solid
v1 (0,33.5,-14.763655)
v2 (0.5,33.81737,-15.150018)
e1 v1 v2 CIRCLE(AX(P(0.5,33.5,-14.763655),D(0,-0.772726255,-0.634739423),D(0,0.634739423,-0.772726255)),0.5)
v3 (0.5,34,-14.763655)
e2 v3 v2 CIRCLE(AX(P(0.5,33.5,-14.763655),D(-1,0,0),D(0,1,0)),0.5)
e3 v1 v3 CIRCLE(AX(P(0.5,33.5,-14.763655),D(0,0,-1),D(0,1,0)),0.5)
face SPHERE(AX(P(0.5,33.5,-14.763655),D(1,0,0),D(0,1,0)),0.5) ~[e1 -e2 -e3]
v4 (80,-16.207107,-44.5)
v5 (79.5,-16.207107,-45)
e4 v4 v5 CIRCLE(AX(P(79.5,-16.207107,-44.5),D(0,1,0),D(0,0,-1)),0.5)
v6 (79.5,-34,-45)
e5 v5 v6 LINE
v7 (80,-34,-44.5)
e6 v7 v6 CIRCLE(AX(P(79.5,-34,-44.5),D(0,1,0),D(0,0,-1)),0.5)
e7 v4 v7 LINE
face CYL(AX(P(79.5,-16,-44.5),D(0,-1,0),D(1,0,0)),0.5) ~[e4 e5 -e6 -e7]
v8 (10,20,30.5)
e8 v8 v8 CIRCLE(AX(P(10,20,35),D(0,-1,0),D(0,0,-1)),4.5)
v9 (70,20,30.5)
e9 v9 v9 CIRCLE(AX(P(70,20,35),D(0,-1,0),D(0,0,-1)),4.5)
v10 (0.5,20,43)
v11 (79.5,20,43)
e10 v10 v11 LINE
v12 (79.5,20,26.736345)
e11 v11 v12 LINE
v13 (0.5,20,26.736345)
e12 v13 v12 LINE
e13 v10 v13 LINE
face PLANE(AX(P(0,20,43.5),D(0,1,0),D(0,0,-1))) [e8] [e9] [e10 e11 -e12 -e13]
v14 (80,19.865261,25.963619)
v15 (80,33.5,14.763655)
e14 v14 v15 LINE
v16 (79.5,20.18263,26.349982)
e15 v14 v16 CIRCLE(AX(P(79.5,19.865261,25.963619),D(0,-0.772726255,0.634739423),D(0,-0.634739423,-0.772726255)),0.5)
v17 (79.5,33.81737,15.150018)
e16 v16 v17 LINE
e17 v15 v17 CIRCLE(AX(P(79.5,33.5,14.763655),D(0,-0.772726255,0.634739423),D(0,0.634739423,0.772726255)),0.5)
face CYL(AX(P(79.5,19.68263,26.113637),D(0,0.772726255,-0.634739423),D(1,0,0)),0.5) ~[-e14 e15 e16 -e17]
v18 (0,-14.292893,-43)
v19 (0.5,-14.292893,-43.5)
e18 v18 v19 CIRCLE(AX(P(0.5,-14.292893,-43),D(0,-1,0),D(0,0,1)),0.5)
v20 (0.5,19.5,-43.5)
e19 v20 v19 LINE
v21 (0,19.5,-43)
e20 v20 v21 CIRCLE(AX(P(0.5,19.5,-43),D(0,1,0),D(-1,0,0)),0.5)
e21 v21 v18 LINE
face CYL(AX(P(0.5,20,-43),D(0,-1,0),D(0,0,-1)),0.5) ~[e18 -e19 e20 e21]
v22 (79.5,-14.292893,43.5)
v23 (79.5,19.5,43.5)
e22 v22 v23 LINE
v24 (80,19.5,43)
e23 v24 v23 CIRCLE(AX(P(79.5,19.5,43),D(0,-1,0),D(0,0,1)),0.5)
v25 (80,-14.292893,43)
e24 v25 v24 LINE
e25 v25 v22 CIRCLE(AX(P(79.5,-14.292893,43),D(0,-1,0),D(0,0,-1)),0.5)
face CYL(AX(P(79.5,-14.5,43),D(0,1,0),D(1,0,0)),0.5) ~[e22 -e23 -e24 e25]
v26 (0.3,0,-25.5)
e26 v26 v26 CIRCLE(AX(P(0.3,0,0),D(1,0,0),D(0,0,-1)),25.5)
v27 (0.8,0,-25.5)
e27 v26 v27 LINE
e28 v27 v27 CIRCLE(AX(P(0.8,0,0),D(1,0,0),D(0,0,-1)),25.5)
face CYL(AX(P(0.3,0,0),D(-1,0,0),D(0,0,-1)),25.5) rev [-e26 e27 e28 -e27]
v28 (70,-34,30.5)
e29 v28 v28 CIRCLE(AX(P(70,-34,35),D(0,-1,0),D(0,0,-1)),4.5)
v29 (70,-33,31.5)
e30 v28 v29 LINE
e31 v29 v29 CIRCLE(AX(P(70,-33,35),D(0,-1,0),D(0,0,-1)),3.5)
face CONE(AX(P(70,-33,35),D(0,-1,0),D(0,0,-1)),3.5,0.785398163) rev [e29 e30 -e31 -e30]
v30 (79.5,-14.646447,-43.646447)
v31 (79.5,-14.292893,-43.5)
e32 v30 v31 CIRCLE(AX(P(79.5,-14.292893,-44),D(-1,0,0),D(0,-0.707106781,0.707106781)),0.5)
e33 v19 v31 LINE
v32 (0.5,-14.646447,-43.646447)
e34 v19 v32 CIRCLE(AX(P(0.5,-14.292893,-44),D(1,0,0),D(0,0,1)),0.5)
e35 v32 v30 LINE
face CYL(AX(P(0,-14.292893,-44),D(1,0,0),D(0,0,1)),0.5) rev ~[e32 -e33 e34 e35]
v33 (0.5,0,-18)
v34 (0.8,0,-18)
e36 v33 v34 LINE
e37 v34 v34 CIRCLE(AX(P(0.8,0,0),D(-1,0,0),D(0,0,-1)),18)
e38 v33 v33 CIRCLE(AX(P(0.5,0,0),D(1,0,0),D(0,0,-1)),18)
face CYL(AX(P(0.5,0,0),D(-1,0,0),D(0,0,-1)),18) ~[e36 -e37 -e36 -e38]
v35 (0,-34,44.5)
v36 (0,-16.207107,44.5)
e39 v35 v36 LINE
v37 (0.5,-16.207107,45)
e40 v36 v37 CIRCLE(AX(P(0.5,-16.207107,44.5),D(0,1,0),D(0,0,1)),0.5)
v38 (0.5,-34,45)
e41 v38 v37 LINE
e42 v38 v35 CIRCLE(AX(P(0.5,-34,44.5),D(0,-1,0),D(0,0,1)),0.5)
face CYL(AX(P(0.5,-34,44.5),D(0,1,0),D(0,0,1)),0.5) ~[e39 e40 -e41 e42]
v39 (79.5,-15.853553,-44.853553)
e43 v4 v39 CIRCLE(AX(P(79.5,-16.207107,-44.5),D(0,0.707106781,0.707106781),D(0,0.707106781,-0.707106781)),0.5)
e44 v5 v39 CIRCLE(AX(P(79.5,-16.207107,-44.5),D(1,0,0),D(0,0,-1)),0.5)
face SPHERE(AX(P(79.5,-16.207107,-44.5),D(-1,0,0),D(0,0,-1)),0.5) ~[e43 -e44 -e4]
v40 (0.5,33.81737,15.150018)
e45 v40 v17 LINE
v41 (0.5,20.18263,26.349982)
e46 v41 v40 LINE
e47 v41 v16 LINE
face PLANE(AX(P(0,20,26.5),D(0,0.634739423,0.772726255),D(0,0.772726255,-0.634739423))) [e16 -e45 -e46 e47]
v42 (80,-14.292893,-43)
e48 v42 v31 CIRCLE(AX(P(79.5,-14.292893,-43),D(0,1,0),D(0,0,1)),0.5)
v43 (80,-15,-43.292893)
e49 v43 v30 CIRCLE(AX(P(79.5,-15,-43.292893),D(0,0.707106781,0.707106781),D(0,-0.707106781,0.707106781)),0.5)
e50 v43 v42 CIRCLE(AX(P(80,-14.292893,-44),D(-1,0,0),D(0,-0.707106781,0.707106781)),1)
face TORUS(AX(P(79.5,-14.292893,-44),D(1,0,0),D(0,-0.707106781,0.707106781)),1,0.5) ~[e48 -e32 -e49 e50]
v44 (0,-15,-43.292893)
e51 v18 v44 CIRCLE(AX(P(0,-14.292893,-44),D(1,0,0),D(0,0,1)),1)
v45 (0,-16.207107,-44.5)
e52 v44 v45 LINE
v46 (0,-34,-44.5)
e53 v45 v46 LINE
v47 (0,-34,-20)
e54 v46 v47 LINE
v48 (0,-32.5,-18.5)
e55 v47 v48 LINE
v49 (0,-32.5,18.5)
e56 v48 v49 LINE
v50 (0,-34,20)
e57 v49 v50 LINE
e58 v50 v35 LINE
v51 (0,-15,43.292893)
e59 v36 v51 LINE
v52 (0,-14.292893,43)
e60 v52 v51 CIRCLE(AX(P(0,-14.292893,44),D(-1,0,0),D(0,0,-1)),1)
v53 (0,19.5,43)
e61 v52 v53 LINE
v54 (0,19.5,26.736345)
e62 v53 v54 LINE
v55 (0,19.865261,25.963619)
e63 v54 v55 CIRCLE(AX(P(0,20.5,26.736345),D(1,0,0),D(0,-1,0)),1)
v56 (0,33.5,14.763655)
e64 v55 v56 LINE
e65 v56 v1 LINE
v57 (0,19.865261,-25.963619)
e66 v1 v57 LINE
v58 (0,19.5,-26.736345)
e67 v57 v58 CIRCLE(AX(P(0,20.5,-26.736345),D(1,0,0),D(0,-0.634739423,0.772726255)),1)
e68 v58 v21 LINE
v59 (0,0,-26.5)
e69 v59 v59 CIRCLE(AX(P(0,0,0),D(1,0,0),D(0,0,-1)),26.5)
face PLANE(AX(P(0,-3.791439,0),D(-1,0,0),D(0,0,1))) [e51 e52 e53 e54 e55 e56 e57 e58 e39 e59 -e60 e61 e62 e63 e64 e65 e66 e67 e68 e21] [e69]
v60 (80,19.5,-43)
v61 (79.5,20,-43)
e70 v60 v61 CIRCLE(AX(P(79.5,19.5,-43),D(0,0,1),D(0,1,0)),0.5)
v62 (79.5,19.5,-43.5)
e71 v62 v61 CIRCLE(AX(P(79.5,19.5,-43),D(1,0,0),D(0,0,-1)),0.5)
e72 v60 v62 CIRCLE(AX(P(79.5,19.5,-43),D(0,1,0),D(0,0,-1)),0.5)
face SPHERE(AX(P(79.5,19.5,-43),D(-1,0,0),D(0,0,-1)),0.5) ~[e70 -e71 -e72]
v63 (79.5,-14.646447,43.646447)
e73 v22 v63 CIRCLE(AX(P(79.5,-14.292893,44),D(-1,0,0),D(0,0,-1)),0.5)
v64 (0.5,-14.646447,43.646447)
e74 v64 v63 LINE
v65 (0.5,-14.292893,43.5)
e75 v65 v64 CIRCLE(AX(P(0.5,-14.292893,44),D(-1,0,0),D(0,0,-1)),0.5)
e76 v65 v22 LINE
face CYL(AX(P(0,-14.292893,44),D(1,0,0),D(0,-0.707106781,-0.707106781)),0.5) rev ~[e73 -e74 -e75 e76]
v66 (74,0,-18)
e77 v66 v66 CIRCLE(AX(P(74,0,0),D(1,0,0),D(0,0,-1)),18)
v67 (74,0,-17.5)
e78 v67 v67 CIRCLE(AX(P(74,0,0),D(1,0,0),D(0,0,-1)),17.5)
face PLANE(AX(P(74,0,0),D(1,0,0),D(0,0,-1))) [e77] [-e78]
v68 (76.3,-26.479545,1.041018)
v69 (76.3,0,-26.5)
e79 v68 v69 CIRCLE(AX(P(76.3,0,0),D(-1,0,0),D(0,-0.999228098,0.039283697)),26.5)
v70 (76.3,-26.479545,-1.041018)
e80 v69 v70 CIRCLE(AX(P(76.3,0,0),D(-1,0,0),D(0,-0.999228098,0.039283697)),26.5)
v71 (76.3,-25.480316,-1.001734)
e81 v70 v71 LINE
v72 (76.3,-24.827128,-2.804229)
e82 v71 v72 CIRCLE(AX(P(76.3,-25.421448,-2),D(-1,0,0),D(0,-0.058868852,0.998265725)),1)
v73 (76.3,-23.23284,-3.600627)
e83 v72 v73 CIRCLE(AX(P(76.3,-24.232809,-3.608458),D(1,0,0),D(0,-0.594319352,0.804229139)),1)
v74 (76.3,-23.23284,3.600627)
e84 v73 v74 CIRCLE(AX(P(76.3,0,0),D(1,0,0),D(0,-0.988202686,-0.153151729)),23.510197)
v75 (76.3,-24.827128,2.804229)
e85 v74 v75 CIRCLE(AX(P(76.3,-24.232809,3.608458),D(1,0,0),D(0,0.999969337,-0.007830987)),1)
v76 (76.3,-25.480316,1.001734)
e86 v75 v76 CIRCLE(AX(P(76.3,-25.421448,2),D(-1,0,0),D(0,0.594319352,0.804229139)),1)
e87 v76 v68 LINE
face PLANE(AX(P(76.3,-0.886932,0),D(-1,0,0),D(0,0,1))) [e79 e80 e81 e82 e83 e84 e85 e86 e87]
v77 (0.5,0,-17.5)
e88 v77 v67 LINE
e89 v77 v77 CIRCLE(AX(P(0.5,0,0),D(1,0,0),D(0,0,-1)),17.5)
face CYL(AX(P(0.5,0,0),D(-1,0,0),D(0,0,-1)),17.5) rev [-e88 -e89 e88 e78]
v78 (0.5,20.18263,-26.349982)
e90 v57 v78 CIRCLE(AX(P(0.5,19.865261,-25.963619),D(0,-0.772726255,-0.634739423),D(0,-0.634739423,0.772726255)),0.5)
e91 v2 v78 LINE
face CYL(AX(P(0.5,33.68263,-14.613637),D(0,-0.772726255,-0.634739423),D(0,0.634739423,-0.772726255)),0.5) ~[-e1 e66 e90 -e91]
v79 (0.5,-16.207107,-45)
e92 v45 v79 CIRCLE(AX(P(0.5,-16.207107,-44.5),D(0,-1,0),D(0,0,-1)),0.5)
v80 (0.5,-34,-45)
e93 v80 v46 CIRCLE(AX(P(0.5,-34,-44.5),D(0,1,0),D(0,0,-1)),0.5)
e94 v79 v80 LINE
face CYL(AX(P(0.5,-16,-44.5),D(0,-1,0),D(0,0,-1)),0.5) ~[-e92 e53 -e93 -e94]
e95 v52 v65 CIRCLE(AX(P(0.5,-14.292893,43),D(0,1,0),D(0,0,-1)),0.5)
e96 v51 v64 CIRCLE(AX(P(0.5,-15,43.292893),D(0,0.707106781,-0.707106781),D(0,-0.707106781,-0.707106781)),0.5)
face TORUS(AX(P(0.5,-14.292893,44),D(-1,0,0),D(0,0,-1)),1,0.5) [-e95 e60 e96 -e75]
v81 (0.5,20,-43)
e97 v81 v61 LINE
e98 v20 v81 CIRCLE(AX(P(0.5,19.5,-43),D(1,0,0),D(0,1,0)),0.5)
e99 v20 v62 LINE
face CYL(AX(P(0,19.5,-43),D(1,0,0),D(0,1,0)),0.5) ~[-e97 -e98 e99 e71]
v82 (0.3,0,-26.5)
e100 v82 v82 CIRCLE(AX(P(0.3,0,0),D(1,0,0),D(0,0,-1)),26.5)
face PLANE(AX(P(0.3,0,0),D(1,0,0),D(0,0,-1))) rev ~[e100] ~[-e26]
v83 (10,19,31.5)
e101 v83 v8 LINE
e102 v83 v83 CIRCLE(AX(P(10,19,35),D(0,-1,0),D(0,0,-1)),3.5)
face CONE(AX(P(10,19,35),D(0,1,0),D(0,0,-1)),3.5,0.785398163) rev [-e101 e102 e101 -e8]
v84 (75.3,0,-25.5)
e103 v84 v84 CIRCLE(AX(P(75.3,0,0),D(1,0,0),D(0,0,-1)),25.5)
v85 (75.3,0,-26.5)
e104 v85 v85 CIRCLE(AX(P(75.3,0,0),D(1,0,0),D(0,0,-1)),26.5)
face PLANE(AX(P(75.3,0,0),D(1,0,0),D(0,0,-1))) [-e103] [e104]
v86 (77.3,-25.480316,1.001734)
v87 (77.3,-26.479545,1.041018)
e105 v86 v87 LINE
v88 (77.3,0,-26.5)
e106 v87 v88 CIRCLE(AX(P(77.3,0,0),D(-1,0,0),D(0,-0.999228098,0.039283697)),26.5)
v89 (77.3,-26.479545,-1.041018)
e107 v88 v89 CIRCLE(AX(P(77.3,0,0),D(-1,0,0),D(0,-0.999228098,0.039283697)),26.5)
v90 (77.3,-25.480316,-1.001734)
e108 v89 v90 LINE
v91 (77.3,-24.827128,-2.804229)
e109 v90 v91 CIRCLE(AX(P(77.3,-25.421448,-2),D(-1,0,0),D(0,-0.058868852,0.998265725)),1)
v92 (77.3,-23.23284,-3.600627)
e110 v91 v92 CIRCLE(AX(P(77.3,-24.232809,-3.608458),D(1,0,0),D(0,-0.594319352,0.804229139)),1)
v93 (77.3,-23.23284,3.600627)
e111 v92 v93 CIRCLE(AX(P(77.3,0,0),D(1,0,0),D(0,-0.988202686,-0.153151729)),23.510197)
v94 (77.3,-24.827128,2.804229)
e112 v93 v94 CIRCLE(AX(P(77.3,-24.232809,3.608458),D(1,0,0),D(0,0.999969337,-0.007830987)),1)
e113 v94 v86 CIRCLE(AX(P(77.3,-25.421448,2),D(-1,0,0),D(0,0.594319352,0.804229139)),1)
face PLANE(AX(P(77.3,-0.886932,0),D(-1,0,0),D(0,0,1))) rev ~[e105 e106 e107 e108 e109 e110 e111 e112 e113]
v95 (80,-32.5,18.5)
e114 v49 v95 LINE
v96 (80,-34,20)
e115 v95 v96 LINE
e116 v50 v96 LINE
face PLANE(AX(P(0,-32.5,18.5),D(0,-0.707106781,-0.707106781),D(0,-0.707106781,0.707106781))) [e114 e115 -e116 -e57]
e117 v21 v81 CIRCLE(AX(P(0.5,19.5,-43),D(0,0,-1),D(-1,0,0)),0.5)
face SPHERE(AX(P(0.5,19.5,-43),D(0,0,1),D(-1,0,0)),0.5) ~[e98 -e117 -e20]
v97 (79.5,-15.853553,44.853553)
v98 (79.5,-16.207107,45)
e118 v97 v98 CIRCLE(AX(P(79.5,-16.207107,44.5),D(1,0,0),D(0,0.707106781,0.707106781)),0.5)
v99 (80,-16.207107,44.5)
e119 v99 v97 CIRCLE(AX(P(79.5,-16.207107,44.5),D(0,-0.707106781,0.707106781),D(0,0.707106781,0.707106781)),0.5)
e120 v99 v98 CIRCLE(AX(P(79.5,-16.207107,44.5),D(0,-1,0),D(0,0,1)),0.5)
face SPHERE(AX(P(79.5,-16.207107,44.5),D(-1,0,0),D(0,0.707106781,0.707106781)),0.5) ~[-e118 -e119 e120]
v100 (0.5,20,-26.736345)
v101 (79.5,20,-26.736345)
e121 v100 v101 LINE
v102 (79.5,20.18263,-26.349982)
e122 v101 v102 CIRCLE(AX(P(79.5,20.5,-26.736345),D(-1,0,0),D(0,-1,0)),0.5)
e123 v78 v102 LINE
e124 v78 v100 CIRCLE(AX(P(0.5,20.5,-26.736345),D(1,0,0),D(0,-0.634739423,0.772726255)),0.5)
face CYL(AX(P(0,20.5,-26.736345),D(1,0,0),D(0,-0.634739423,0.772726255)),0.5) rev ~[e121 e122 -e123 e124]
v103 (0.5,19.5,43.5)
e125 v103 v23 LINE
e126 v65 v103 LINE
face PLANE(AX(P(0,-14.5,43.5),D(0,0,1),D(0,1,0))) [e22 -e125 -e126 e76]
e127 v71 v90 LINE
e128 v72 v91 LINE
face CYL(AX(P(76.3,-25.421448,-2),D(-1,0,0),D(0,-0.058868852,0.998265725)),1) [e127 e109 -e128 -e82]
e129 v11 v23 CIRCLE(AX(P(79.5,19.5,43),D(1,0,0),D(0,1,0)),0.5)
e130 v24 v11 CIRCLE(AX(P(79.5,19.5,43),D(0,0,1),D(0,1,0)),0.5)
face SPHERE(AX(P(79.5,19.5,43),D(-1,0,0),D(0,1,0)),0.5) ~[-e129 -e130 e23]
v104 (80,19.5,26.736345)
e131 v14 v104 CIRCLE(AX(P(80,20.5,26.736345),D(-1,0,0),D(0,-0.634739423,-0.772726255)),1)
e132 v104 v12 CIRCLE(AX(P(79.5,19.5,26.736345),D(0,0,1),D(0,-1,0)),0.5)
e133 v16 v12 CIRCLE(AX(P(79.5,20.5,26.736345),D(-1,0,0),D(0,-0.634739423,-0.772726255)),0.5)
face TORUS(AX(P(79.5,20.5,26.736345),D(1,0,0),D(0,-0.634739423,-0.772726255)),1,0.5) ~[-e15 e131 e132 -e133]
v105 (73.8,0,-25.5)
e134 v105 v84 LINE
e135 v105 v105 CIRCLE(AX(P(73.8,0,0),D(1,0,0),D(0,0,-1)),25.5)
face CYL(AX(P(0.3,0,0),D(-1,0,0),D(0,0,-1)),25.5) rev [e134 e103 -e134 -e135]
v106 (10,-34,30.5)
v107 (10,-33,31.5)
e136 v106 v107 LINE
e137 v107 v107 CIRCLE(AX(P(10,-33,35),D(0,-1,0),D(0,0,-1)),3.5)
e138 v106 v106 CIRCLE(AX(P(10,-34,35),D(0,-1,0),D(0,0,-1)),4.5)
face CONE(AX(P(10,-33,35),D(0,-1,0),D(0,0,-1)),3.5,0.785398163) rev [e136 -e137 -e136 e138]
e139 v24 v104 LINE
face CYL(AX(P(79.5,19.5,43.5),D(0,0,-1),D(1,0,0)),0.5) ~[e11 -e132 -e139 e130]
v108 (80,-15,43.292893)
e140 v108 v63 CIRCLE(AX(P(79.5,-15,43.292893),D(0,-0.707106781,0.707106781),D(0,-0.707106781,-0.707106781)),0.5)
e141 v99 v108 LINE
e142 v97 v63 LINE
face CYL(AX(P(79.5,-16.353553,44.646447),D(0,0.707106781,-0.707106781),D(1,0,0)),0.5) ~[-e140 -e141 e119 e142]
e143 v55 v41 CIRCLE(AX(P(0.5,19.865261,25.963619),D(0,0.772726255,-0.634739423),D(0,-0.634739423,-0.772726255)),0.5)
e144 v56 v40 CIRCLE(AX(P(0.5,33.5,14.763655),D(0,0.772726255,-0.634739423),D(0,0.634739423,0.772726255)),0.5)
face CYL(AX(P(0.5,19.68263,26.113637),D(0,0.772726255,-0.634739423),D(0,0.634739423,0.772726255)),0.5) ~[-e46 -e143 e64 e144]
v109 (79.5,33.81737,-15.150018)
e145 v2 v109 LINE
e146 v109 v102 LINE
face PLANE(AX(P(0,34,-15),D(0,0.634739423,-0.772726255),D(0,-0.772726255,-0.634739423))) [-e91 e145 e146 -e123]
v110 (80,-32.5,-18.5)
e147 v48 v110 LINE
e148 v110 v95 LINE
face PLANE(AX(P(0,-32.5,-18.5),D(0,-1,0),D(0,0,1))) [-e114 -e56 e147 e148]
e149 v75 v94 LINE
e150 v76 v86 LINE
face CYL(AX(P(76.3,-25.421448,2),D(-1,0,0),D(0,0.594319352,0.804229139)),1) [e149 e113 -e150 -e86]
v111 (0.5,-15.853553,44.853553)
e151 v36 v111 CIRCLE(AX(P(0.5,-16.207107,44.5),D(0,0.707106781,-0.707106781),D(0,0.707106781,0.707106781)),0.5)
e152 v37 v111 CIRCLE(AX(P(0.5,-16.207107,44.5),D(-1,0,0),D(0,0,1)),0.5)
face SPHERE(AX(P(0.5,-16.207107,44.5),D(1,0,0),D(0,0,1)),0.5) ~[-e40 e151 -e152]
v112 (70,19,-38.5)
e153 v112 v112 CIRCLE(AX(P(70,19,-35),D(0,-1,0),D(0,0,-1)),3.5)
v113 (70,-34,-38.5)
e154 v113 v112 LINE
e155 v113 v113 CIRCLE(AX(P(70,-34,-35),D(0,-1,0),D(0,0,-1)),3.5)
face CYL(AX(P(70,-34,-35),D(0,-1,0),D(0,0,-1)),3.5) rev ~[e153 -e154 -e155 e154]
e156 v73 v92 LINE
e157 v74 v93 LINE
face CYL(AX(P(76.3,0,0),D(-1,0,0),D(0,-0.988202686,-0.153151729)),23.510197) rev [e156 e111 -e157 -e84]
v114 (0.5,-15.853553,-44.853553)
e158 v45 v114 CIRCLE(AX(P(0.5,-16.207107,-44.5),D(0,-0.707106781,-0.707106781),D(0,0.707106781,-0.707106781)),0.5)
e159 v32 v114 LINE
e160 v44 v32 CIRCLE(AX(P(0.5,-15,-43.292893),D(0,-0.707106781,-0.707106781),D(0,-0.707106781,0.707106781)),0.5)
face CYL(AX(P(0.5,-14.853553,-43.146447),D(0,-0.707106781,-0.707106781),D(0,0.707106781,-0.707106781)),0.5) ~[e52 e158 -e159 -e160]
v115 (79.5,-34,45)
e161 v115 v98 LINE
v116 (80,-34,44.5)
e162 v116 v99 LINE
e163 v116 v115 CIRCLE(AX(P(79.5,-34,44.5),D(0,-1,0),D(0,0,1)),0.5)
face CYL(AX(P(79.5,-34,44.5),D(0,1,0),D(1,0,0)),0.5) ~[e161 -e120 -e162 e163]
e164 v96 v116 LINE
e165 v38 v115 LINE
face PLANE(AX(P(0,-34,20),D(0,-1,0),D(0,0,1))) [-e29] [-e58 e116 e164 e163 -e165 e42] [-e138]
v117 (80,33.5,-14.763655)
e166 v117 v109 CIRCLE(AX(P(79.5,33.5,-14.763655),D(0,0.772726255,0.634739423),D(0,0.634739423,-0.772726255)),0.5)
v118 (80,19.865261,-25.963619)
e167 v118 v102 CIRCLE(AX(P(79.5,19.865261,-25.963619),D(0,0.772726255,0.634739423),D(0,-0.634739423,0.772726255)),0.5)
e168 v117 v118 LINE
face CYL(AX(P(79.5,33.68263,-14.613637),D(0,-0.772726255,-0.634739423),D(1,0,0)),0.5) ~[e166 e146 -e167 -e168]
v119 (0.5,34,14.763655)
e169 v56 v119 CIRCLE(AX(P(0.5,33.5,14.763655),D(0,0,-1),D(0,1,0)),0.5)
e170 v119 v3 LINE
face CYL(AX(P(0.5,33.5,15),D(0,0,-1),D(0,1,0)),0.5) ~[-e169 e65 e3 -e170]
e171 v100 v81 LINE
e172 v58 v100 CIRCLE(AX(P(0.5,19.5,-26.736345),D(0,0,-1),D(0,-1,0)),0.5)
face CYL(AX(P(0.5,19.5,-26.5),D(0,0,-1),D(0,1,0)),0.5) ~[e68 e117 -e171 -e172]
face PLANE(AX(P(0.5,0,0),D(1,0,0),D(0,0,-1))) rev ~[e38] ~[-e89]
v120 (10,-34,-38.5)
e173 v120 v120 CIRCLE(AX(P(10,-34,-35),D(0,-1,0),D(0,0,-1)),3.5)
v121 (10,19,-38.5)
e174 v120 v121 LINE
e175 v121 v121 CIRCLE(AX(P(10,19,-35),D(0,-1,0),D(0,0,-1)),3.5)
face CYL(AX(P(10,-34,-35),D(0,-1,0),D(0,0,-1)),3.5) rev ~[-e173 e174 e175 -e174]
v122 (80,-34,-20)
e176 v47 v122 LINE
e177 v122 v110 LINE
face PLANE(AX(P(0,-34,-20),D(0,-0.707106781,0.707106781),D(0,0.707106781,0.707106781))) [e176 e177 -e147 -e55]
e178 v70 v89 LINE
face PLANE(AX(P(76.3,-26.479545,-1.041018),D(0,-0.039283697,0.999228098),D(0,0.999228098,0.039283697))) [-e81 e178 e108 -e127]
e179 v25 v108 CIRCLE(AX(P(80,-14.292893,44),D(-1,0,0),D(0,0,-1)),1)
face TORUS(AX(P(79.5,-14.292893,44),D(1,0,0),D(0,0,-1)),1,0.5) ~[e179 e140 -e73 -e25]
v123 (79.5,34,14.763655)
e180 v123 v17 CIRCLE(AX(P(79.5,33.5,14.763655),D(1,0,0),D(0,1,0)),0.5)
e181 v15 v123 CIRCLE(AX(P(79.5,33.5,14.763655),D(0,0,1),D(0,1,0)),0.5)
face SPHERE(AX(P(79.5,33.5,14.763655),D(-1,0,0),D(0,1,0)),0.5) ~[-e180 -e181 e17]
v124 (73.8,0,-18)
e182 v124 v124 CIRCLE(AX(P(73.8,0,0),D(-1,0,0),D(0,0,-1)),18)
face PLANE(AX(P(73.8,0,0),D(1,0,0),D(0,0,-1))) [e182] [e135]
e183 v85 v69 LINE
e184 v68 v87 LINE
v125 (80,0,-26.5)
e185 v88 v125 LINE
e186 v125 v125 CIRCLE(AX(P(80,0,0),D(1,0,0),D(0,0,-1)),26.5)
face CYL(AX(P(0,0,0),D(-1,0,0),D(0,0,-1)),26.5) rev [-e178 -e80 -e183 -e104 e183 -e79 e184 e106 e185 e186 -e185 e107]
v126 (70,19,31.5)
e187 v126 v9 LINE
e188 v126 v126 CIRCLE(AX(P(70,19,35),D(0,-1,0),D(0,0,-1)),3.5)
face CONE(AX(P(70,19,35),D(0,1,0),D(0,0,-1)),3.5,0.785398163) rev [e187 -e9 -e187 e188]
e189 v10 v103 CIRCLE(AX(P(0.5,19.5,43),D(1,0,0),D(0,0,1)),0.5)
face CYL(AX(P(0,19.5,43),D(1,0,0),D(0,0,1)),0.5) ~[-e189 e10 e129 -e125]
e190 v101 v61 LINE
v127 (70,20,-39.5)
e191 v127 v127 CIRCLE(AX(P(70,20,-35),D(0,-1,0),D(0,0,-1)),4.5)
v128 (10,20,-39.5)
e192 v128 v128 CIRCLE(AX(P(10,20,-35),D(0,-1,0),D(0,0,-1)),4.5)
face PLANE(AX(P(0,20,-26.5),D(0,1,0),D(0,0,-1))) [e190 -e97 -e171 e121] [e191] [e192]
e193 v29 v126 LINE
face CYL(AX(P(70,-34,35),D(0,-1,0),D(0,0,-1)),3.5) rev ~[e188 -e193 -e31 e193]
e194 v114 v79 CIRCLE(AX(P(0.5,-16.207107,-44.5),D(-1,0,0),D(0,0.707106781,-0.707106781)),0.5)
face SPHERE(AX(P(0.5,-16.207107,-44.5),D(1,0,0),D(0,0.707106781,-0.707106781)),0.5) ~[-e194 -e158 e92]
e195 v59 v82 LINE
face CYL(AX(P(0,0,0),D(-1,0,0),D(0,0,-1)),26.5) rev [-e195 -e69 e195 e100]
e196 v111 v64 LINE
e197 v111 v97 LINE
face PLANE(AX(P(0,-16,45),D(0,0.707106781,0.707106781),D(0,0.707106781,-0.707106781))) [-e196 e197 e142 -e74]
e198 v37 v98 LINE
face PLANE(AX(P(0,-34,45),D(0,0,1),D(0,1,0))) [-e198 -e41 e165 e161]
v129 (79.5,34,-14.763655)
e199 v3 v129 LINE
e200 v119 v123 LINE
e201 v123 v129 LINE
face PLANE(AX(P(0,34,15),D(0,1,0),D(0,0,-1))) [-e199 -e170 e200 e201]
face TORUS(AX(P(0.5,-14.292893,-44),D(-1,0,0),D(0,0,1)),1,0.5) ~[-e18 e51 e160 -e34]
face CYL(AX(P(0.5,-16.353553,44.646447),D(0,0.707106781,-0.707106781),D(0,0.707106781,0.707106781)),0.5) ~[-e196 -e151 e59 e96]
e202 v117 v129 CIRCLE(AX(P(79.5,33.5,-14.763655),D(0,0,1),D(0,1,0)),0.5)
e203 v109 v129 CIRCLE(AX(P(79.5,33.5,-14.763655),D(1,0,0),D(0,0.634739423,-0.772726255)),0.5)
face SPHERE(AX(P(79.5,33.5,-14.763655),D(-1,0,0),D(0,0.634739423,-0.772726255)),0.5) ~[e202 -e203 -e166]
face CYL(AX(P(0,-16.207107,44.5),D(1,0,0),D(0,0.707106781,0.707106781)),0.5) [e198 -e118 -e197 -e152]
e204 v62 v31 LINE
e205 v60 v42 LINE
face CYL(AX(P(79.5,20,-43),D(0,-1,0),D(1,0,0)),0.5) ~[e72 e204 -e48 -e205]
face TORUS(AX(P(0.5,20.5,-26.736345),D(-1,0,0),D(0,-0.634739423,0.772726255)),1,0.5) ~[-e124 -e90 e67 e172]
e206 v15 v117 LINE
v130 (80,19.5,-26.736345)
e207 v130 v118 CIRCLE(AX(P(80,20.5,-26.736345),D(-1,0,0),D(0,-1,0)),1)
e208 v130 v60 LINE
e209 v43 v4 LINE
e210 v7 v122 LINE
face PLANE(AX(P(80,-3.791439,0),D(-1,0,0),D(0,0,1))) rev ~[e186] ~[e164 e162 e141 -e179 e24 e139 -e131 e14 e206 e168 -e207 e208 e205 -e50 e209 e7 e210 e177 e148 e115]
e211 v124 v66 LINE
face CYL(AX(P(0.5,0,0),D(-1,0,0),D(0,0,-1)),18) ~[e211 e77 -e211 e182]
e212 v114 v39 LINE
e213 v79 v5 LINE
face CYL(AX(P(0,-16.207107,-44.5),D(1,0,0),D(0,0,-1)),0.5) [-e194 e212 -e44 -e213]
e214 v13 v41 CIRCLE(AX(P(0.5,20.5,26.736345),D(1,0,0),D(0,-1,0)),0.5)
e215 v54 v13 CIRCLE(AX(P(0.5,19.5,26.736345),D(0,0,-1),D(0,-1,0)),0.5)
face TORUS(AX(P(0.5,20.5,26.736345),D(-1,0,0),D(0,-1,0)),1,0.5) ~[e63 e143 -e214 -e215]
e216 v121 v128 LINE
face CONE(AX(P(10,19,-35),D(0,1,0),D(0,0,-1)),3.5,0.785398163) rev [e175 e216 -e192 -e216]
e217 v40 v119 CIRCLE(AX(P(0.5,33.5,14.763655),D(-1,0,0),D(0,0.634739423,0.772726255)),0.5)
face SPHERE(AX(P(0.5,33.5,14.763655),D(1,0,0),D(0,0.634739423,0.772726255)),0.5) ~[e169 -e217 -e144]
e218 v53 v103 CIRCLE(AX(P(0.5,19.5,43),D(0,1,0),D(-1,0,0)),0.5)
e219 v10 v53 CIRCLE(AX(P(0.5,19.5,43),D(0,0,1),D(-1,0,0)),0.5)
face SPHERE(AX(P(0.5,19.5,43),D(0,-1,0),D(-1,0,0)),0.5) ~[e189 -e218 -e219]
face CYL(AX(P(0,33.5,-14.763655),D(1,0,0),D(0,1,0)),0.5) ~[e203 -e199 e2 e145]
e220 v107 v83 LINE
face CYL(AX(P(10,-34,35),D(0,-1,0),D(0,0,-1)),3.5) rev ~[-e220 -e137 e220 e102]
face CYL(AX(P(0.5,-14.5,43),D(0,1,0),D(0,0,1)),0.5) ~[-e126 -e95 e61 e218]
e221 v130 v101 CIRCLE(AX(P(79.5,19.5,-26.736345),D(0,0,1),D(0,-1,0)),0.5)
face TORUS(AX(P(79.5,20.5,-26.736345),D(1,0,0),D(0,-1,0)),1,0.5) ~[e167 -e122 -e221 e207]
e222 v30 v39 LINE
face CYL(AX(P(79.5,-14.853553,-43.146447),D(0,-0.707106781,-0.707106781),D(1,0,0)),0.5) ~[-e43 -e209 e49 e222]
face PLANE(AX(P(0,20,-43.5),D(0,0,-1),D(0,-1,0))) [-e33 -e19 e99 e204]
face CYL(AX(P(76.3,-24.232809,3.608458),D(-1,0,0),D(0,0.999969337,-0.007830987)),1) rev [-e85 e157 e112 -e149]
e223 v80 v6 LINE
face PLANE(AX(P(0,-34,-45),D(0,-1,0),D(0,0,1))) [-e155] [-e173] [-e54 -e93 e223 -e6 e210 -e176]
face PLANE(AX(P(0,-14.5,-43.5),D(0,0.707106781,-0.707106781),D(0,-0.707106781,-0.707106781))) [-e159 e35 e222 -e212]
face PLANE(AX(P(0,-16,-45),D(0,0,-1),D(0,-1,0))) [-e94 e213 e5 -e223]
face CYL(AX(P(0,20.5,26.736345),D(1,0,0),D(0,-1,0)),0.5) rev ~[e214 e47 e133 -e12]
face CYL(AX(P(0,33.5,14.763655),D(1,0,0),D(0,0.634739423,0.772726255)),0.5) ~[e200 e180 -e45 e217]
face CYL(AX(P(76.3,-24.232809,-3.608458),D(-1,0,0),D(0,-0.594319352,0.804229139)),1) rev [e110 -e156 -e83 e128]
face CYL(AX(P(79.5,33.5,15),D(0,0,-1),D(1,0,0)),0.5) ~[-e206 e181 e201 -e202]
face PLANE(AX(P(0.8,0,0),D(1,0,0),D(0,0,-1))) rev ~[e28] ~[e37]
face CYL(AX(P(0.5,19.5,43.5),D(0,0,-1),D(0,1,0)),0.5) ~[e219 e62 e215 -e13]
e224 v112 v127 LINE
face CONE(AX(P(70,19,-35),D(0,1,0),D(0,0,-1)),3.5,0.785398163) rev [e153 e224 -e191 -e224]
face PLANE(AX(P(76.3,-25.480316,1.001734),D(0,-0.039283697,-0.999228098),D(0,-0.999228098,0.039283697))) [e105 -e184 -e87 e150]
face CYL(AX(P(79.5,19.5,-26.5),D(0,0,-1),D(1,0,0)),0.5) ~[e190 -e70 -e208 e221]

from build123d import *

# Parameters (mm, degrees)
SKETCH1_R           = 26.5
BOSS_EXTRUDE1_DEPTH = 80
EXTRUDE_THIN1_START = 0.5
SKETCH1_4_R         = 18
SKETCH1_4_R_2       = 17.5
EXTRUDE_THIN1_DEPTH = 73.5
BOSS_EXTRUDE2_START = 0.8
SKETCH1_5_R         = 25.5
SKETCH1_5_R_2       = 17.5
BOSS_EXTRUDE2_DEPTH = 73
BOSS_EXTRUDE3_START = 0.3
SKETCH1_6_R         = 26.5
SKETCH1_6_R_2       = 25.5
BOSS_EXTRUDE3_DEPTH = 75
BOSS_EXTRUDE4_START = 1
BOSS_EXTRUDE4_DEPTH = 1
FILLET1_R           = 0.5
SKETCH4_R           = 3.5
CUT_EXTRUDE3_DEPTH  = 115.232219623
CHAMFER1_SIZE       = 1


with BuildPart() as part:
    # Sketch1 → Boss-Extrude1 (new body)
    with BuildSketch(Plane(origin=(0, 0, 0), x_dir=(0, 0, -1), z_dir=(1, 0, 0))):
        Polygon((-45, -34), (-20, -34), (-18.5, -32.5), (18.5, -32.5), (20, -34), (45, -34), (45, -16), (43.5, -14.5), (43.5, 20), (26.5, 20), (15, 34), (-15, 34), (-26.5, 20), (-43.5, 20), (-43.5, -14.5), (-45, -16), align=None)
        Circle(SKETCH1_R, mode=Mode.SUBTRACT)
    extrude(amount=BOSS_EXTRUDE1_DEPTH)



with BuildPart() as body_2:
    # Sketch1<4> → Extrude-Thin1 (new body)
    with BuildSketch(Plane(origin=(0, 0, 0), x_dir=(0, 0, -1), z_dir=(1, 0, 0)).offset(EXTRUDE_THIN1_START)):
        Circle(SKETCH1_4_R)
        Circle(SKETCH1_4_R_2, mode=Mode.SUBTRACT)
    extrude(amount=EXTRUDE_THIN1_DEPTH)

    # Sketch1<5> → Boss-Extrude2 (add)
    with BuildSketch(Plane(origin=(0, 0, 0), x_dir=(0, 0, -1), z_dir=(1, 0, 0)).offset(BOSS_EXTRUDE2_START)):
        Circle(SKETCH1_5_R)
        Circle(SKETCH1_5_R_2, mode=Mode.SUBTRACT)
    extrude(amount=BOSS_EXTRUDE2_DEPTH)


with BuildPart() as part_1:
    add(part.part)

    add(body_2.part)  # Boss-Extrude3 merges body 2
    # Sketch1<6> → Boss-Extrude3 (add)
    with BuildSketch(Plane(origin=(0, 0, 0), x_dir=(0, 0, -1), z_dir=(1, 0, 0)).offset(BOSS_EXTRUDE3_START)):
        Circle(SKETCH1_6_R)
        Circle(SKETCH1_6_R_2, mode=Mode.SUBTRACT)
    extrude(amount=BOSS_EXTRUDE3_DEPTH)

    # Sketch3 → Boss-Extrude4 (add)
    with BuildSketch(Plane(origin=(75.3, 0, 0), x_dir=(0, 0, -1), z_dir=(1, 0, 0)).offset(BOSS_EXTRUDE4_START)):
        with BuildLine():
            Line((-1.001734275, -25.48031649), (-1.041017972, -26.479544588))
            ThreePointArc((-1.041017972, -26.479544588), (0, 26.5), (1.041017972, -26.479544588))
            Line((1.041017972, -26.479544588), (1.001734275, -25.48031649))
            ThreePointArc((1.001734275, -25.48031649), (1.659300342, -24.48127545), (2.804229139, -24.827128286))
            ThreePointArc((2.804229139, -24.827128286), (4.503052889, -24.679687533), (3.600627291, -23.232839597))
            ThreePointArc((3.600627291, -23.232839597), (0, 23.51019678), (-3.600627291, -23.232839597))
            ThreePointArc((-3.600627291, -23.232839597), (-4.503052889, -24.679687533), (-2.804229139, -24.827128286))
            ThreePointArc((-2.804229139, -24.827128286), (-1.659300342, -24.48127545), (-1.001734275, -25.48031649))
        make_face()
    extrude(amount=BOSS_EXTRUDE4_DEPTH)

    # Fillet1
    fillet1_edges = [part_1.edges().sort_by_distance(p)[0] for p in [
        (40, -14.5, -43.5),
        (40, -14.5, 43.5),
        (40, -16, 45),
        (40, -16, -45),
        (40, 20, -26.5),
        (40, 20, 26.5),
        (40, 34, 15),
        (40, 34, -15),
        (40, 20, -43.5),
        (40, 20, 43.5),
        (80, 27, -20.75),
        (80, 27, 20.75),
        (80, 2.75, 43.5),
        (0, -15.25, 44.25),
        (0, 27, 20.75),
        (80, -15.25, -44.25),
        (80, -25, -45),
        (80, 2.75, -43.5),
        (80, 34, 0),
        (80, 20, -35),
        (80, 20, 35),
        (80, -15.25, 44.25),
        (80, -25, 45),
        (0, -25, -45),
        (0, -15.25, -44.25),
        (0, 2.75, -43.5),
        (0, 27, -20.75),
        (0, 20, -35),
        (0, 34, 0),
        (0, -25, 45),
        (0, 2.75, 43.5),
        (0, 20, 35),
    ]]
    fillet(fillet1_edges, radius=FILLET1_R)

    # Sketch4 → Cut-Extrude3 (cut, through all)
    with BuildSketch(Plane.XZ.offset(34)):
        with Locations((10, 35)):
            Circle(SKETCH4_R)
        with Locations((70, 35)):
            Circle(SKETCH4_R)
        with Locations((70, -35)):
            Circle(SKETCH4_R)
        with Locations((10, -35)):
            Circle(SKETCH4_R)
    extrude(amount=-CUT_EXTRUDE3_DEPTH, mode=Mode.SUBTRACT)

    # Chamfer1
    chamfer1_edges = [part_1.edges().sort_by_distance(p)[0] for p in [
        (66.5, 20, -35),
        (6.5, 20, -35),
        (6.5, 20, 35),
        (66.5, 20, 35),
        (66.5, -34, 35),
        (6.5, -34, 35),
    ]]
    chamfer(chamfer1_edges, length=CHAMFER1_SIZE)


solid = part_1.part
